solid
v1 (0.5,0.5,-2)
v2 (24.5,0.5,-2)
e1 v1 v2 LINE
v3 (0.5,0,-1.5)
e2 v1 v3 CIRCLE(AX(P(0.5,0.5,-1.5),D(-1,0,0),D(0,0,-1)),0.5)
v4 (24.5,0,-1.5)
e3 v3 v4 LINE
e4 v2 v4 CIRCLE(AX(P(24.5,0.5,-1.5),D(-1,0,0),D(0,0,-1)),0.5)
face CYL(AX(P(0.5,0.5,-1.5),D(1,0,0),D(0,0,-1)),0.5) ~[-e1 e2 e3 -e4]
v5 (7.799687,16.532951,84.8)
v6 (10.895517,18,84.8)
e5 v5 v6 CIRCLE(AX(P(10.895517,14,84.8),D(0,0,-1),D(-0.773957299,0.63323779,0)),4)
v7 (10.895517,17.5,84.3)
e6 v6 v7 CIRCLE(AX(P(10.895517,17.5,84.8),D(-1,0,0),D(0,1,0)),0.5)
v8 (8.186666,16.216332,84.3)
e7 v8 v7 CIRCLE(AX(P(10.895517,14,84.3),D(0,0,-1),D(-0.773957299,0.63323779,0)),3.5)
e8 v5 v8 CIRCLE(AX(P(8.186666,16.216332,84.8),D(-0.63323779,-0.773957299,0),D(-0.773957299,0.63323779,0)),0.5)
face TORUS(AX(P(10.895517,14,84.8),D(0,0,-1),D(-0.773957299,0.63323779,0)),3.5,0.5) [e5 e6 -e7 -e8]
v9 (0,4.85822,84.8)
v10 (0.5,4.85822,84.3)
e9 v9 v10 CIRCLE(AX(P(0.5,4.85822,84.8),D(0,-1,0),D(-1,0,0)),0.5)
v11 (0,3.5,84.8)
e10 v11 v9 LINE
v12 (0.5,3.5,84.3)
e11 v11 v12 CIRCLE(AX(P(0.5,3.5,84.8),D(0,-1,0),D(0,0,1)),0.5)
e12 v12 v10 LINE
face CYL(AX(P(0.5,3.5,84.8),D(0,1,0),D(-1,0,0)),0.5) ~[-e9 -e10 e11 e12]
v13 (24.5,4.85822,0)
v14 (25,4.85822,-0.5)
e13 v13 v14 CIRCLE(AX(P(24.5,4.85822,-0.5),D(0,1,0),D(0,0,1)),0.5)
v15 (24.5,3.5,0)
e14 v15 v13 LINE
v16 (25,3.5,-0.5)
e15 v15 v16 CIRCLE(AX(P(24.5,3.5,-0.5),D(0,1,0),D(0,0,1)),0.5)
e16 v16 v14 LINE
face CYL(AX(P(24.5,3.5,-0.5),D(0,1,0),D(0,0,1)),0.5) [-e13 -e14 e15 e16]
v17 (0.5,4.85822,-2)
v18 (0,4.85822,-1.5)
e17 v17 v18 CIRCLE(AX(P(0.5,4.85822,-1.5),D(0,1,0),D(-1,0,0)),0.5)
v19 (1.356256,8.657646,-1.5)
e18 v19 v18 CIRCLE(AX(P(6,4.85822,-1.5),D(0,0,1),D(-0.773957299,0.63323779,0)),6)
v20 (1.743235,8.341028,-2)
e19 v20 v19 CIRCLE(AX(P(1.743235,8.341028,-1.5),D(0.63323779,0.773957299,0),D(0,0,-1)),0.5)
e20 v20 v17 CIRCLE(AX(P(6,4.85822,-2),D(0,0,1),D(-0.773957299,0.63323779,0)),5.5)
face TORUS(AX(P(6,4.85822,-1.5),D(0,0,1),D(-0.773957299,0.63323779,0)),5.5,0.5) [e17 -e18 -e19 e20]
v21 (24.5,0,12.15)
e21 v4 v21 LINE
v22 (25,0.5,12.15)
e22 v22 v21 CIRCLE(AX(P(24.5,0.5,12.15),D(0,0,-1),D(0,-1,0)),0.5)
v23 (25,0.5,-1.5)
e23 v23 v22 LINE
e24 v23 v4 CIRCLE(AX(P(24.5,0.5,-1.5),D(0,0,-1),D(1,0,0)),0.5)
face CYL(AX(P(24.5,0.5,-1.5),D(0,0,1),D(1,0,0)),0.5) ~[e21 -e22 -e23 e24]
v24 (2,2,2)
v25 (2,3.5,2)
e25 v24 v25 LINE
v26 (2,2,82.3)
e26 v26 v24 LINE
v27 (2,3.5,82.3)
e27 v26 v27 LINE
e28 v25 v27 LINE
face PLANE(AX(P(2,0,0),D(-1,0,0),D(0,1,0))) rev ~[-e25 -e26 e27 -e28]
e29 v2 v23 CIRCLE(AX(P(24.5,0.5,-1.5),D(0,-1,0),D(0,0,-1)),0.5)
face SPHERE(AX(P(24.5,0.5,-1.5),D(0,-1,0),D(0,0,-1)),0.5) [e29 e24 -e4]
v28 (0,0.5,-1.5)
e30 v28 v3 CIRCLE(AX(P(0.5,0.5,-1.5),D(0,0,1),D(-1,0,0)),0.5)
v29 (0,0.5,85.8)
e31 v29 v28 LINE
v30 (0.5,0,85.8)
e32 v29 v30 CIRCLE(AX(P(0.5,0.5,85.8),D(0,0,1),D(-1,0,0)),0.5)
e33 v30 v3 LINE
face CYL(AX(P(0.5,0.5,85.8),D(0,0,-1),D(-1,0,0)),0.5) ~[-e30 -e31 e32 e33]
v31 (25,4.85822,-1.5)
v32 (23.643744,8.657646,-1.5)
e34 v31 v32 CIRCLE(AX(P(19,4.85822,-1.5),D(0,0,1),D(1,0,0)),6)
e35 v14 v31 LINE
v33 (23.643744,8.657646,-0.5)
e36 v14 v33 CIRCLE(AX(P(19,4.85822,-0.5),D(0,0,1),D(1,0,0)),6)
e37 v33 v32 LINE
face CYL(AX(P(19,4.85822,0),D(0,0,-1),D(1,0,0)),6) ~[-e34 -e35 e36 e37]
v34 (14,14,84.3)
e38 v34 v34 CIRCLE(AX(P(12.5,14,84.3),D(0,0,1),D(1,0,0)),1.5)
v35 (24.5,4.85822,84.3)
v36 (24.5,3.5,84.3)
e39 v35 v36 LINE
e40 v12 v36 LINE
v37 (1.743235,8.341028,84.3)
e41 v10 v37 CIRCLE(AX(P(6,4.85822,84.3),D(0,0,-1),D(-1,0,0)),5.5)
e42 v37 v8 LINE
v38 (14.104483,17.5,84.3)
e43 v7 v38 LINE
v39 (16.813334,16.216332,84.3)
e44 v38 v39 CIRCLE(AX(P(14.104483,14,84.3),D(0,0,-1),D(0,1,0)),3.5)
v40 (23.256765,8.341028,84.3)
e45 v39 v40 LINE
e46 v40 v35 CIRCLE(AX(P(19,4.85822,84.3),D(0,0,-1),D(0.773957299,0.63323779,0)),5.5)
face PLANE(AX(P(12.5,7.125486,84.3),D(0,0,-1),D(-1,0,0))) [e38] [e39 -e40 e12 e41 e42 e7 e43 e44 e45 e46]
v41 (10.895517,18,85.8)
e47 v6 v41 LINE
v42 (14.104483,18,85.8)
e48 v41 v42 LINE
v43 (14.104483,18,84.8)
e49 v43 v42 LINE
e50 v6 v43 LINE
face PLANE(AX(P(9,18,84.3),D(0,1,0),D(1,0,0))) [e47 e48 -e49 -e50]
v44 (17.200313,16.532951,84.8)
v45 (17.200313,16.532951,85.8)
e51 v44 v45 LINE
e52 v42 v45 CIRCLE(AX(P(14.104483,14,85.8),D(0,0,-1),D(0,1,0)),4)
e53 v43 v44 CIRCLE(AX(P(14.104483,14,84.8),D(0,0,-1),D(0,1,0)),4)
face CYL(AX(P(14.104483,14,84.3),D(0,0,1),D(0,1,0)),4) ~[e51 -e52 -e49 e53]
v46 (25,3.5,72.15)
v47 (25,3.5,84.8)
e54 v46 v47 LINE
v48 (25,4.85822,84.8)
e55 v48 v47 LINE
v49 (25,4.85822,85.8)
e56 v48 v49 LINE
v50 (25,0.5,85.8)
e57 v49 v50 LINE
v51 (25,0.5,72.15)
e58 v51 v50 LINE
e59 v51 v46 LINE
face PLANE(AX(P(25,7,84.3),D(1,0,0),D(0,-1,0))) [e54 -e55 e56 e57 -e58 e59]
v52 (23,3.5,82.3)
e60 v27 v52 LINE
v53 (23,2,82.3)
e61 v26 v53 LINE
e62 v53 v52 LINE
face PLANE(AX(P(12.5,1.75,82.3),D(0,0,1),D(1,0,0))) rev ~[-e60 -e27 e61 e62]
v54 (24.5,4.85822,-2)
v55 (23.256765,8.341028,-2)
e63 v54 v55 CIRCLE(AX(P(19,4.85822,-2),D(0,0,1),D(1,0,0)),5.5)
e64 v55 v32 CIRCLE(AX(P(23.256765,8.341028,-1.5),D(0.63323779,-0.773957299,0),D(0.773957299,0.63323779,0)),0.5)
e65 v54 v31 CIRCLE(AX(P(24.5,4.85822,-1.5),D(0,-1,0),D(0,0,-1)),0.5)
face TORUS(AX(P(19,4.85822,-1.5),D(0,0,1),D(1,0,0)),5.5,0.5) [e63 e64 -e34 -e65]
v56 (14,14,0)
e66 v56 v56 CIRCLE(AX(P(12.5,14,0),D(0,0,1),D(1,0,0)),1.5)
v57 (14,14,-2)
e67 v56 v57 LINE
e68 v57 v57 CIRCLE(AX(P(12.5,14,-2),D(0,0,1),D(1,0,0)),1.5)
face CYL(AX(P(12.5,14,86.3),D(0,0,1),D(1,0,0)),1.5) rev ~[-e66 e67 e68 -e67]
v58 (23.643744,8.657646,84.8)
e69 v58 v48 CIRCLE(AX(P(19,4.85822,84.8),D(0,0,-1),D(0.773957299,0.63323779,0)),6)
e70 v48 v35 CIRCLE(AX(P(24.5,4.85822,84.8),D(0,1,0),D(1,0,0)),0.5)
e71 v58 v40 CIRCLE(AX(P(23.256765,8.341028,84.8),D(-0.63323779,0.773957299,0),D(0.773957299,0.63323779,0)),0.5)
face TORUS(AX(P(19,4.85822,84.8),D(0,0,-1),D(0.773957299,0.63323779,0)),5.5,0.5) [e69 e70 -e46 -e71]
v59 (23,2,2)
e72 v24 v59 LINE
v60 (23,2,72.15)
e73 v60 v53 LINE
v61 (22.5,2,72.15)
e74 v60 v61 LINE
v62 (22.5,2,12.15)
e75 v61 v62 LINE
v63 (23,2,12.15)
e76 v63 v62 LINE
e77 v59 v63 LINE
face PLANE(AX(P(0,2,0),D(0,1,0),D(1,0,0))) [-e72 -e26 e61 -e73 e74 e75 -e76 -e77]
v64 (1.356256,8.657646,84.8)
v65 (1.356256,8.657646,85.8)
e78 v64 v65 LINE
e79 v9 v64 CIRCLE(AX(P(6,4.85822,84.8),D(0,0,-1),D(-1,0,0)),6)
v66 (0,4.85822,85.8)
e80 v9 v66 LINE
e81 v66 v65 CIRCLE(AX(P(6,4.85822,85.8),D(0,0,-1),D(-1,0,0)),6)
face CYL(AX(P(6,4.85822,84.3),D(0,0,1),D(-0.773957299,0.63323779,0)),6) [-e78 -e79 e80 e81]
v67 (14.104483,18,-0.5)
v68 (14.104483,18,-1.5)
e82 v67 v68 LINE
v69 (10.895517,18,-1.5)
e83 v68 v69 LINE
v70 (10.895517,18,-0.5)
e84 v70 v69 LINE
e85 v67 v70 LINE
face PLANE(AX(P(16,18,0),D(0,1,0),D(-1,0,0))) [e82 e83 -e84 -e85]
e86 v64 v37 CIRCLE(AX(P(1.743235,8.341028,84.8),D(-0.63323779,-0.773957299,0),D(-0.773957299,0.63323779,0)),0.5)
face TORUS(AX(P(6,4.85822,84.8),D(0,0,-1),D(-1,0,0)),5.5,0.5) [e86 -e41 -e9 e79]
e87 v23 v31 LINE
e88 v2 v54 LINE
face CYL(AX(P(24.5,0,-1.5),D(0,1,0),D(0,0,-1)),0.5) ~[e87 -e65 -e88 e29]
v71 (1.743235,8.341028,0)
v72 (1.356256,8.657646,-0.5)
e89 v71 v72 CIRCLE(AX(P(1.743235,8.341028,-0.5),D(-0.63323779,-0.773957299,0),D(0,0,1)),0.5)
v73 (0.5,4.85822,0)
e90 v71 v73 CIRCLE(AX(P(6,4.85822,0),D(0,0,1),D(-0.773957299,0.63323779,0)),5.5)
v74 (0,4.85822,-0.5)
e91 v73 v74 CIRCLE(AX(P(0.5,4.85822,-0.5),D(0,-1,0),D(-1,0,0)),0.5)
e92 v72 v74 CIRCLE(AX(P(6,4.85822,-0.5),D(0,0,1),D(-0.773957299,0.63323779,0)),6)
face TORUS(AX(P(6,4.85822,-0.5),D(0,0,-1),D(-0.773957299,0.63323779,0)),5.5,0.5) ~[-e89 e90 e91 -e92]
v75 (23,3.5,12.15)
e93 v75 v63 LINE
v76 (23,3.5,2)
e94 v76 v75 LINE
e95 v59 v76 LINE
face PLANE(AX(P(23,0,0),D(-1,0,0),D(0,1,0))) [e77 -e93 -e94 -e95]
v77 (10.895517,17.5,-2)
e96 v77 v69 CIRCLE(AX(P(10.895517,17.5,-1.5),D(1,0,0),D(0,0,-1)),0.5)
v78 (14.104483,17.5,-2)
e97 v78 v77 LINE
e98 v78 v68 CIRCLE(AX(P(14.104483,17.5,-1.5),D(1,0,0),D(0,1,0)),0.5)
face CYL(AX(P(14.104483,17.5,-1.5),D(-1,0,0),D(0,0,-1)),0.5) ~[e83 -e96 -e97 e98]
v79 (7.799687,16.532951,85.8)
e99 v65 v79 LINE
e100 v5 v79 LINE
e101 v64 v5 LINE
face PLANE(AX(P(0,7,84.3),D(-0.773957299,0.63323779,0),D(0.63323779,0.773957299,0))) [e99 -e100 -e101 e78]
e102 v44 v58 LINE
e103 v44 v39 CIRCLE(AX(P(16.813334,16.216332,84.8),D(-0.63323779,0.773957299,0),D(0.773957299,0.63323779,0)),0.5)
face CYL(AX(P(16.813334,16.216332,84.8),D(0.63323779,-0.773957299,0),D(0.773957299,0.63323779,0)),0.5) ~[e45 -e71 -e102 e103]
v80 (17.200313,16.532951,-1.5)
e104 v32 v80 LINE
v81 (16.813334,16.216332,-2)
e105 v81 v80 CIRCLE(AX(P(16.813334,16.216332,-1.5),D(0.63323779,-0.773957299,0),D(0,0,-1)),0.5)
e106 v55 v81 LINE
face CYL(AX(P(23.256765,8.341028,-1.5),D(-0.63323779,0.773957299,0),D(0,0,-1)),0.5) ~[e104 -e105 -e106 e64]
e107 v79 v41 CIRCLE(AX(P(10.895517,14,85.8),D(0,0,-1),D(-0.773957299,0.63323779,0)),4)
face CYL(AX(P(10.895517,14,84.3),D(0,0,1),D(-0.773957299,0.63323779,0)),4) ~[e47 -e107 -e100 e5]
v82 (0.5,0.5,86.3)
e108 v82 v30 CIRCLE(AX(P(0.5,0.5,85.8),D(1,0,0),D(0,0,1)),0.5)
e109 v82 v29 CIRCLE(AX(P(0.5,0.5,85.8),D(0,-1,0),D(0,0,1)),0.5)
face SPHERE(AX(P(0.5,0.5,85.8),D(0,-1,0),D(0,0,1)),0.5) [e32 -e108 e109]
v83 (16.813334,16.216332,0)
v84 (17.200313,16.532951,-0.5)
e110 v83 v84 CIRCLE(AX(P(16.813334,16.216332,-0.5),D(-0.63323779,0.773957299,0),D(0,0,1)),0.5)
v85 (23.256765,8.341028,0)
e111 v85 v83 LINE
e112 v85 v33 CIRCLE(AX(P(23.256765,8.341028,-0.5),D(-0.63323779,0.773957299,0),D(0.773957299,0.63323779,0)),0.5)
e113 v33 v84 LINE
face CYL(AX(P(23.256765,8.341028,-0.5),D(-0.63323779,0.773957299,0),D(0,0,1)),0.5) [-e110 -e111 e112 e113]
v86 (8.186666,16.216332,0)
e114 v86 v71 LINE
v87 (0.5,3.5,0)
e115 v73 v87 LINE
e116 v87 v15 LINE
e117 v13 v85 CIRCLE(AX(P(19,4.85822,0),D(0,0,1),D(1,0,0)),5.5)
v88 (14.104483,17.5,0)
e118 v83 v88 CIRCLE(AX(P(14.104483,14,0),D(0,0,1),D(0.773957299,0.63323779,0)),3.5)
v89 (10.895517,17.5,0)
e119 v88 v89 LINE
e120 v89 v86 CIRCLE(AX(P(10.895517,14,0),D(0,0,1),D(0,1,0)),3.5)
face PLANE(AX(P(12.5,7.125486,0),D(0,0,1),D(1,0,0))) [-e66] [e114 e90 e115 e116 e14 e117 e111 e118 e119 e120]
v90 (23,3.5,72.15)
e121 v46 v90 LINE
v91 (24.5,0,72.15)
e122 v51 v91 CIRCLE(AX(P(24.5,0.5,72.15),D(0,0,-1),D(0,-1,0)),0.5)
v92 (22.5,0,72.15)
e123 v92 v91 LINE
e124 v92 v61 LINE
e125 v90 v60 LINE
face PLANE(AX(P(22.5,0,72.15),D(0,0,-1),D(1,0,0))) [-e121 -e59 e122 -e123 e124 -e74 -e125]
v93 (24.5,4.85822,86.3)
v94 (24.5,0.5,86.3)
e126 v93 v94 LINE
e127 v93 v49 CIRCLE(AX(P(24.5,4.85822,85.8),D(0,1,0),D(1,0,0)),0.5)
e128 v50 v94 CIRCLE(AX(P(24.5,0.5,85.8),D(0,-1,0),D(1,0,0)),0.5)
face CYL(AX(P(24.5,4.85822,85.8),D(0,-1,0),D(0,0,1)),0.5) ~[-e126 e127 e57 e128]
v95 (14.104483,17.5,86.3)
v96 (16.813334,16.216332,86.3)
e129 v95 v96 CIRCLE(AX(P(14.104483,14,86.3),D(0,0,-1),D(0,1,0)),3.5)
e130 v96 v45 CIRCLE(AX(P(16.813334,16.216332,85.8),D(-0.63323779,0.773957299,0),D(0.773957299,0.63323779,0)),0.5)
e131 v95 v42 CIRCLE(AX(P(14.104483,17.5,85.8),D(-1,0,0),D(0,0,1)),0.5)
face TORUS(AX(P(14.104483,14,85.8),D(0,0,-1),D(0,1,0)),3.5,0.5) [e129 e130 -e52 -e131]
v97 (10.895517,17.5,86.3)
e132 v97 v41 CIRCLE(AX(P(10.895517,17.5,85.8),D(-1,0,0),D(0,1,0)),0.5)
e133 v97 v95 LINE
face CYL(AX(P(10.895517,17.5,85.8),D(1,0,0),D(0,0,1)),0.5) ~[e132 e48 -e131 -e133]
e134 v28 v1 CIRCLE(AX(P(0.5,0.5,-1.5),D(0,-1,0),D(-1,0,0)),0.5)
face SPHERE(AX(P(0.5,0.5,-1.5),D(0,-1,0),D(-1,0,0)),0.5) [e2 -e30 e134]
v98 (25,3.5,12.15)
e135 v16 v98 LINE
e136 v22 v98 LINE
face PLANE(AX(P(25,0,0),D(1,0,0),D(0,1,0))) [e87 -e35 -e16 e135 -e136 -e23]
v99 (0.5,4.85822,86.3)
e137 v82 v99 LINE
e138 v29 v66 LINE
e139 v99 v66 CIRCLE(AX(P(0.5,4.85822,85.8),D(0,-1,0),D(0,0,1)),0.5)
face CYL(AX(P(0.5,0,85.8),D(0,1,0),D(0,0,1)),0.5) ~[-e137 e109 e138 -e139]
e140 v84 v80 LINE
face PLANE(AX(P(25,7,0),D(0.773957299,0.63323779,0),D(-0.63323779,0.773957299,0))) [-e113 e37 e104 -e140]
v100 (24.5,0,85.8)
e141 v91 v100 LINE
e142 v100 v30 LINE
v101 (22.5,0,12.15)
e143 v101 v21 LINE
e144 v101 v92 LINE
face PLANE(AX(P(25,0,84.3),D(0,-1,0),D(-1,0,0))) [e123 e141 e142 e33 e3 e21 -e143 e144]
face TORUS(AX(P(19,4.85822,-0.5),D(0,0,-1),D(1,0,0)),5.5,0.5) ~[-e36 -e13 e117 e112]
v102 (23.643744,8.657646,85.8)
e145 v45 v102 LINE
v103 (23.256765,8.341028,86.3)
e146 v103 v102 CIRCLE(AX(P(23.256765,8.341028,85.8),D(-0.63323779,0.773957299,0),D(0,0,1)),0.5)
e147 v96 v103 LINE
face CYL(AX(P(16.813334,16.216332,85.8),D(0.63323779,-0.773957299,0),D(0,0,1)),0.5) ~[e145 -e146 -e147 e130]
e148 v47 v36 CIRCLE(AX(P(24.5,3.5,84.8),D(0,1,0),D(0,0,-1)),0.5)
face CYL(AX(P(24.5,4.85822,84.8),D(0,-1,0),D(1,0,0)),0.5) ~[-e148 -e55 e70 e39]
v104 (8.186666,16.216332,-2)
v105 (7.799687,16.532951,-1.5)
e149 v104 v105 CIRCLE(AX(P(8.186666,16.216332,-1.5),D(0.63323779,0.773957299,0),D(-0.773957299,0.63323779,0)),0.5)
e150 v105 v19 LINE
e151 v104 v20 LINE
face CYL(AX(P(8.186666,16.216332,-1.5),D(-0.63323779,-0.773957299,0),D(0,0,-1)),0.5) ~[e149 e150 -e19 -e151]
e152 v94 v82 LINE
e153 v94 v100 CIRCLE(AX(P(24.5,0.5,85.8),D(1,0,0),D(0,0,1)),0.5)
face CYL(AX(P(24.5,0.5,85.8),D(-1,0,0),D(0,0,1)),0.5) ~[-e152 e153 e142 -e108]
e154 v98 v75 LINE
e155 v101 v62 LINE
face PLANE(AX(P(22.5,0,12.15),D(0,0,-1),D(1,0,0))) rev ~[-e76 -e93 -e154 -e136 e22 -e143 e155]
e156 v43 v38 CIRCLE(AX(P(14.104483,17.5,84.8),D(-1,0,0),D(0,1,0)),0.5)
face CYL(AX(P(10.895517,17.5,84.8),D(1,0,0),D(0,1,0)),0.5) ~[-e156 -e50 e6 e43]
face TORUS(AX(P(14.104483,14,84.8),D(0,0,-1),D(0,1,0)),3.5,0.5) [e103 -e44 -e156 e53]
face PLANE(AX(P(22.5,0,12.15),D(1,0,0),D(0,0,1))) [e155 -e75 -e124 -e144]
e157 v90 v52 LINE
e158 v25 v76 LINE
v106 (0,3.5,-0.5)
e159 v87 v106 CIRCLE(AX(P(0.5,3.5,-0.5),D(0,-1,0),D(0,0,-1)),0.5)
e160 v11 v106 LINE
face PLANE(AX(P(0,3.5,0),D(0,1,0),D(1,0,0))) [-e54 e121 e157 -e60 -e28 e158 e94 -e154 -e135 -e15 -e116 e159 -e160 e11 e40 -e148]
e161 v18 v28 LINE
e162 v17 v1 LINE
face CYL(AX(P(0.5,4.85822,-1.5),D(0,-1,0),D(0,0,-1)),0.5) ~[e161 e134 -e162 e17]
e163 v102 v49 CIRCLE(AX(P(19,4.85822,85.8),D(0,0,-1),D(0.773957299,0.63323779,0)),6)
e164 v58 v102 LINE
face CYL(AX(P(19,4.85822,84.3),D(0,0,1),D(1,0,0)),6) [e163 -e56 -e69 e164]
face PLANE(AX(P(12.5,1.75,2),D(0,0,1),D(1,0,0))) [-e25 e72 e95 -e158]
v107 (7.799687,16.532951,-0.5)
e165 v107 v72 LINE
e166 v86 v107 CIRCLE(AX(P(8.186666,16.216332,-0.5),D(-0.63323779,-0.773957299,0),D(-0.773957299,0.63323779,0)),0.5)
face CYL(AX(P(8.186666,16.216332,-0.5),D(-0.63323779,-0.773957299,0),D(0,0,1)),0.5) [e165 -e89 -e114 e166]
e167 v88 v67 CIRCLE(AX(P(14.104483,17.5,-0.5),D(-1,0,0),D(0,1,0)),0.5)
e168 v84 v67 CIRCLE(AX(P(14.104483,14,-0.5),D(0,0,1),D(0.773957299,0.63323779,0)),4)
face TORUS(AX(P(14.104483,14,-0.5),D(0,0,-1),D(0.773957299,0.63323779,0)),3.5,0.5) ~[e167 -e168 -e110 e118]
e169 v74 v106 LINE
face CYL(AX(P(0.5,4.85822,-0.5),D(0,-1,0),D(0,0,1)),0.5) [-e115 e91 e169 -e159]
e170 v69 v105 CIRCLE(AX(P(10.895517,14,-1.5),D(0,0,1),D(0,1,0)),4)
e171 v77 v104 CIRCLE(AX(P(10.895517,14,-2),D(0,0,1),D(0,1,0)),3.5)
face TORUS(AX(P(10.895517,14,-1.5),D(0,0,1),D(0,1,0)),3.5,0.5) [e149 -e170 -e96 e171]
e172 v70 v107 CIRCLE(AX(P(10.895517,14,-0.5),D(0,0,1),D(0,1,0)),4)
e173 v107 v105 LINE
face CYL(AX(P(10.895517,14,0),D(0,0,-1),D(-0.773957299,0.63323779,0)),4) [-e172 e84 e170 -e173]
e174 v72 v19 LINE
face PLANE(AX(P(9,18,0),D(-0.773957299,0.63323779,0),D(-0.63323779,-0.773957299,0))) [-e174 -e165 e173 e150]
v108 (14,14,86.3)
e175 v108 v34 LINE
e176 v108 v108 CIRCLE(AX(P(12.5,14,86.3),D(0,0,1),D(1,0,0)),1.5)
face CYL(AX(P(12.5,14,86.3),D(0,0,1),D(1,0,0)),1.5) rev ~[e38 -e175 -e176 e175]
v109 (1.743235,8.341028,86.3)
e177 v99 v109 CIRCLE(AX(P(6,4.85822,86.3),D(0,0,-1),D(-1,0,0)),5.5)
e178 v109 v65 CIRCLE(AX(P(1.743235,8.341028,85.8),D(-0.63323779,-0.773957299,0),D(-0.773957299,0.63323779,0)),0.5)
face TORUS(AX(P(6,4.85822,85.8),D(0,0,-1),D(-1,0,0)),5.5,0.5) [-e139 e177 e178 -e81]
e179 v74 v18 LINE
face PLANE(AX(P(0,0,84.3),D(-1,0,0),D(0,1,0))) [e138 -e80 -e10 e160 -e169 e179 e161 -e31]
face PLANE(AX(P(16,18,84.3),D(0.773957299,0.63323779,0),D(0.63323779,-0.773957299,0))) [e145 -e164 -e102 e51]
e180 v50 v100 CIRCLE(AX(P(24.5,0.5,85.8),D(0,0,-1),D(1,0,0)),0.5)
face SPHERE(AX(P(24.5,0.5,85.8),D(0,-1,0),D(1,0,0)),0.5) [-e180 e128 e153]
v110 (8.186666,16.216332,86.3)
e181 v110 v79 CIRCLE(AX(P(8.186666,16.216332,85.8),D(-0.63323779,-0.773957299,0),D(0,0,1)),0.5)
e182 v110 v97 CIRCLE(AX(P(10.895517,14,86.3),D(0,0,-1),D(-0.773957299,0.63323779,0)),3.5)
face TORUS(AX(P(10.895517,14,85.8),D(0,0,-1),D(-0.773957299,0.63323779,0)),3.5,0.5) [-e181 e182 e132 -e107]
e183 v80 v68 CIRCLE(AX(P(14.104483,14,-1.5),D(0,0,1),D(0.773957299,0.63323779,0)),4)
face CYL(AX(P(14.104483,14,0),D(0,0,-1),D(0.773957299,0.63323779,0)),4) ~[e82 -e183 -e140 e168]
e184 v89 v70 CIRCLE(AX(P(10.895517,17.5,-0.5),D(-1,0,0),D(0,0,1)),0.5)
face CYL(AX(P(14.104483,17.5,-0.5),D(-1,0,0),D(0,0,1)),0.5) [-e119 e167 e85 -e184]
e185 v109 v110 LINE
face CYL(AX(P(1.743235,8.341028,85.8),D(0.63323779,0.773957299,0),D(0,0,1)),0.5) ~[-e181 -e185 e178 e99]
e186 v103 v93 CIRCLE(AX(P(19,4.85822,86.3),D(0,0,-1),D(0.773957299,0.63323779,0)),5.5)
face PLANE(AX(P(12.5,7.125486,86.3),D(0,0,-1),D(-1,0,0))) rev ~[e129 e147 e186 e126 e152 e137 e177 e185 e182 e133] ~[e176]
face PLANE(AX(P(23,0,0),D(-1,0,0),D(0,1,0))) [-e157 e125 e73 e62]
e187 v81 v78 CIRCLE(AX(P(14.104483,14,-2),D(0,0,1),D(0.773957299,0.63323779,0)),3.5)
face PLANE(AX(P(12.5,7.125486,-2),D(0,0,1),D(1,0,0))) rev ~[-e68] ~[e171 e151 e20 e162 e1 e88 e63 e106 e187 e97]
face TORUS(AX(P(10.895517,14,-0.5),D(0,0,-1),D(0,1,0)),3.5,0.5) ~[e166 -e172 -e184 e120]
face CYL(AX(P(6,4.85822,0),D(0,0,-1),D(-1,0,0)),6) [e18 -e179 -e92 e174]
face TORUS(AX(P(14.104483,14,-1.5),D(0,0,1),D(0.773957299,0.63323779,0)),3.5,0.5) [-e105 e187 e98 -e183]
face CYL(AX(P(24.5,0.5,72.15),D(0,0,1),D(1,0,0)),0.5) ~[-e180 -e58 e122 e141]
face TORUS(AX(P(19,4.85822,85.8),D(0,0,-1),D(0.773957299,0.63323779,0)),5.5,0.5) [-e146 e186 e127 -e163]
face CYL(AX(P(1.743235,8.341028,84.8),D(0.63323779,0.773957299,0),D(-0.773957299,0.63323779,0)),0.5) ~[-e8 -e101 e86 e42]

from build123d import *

# Parameters (mm, degrees)
SKETCH_1_W          = 25
SKETCH_1_H          = 3.5
EXTRUDE_1_DEPTH     = 84.3
SHELL_1_T           = -2
SKETCH_2_W          = 2.5
SKETCH_2_H          = 60
CUT_EXTRUDE_1_DEPTH = 88.998522715
EXTRUDE_2_DEPTH     = 2
EXTRUDE_3_DEPTH     = 2
SKETCH_5_R          = 1.5
CUT_EXTRUDE_2_DEPTH = 94.519463215
FILLET_1_R          = 4
FILLET_2_R          = 6
FILLET_3_R          = 0.5
FILLET_4_R          = 0.5


with BuildPart() as part:
    # 草图1 → 凸台-拉伸1 (new body)
    with BuildSketch(Plane.XY):
        with Locations((12.5, 1.75)):
            Rectangle(SKETCH_1_W, SKETCH_1_H)
    extrude(amount=EXTRUDE_1_DEPTH)

    # 抽壳1
    shell_1_openings = [part.faces().sort_by_distance(p)[0] for p in [
        (12.5, 3.5, 42.15),
    ]]
    offset(amount=SHELL_1_T, openings=shell_1_openings, kind=Kind.INTERSECTION)

    # 草图2 → 切除-拉伸1 (cut, through all)
    with BuildSketch(Plane.XZ):
        with Locations((23.75, 42.15)):
            Rectangle(SKETCH_2_W, SKETCH_2_H)
    extrude(amount=-CUT_EXTRUDE_1_DEPTH, mode=Mode.SUBTRACT)

    # 草图3 → 凸台-拉伸2 (add)
    with BuildSketch(Plane(origin=(0, 0, 0), x_dir=(-1, 0, 0), z_dir=(0, 0, -1))):
        Polygon((-25, 7), (-16, 18), (-9, 18), (0, 7), (0, 0), (-25, 0), align=None)
    extrude(amount=EXTRUDE_2_DEPTH)

    # 草图4 → 凸台-拉伸3 (add)
    with BuildSketch(Plane.XY.offset(84.3)):
        Polygon((0, 0), (0, 7), (9, 18), (16, 18), (25, 7), (25, 0), align=None)
    extrude(amount=EXTRUDE_3_DEPTH)

    # 草图5 → 切除-拉伸2 (cut, through all)
    with BuildSketch(Plane.XY.offset(86.3)):
        with Locations((12.5, 14)):
            Circle(SKETCH_5_R)
    extrude(amount=-CUT_EXTRUDE_2_DEPTH, mode=Mode.SUBTRACT)

    # 圆角1
    fillet_1_edges = [part.edges().sort_by_distance(p)[0] for p in [
        (9, 18, -1),
        (16, 18, -1),
        (16, 18, 85.3),
        (9, 18, 85.3),
    ]]
    fillet(fillet_1_edges, radius=FILLET_1_R)

    # 圆角2
    fillet_2_edges = [part.edges().sort_by_distance(p)[0] for p in [
        (25, 7, -1),
        (0, 7, -1),
        (25, 7, 85.3),
        (0, 7, 85.3),
    ]]
    fillet(fillet_2_edges, radius=FILLET_2_R)

    # 圆角3
    fillet_3_edges = [part.edges().sort_by_distance(p)[0] for p in [
        (4.577971759, 12.595298817, 86.3),
        (9.182595707, 17.61467873, 86.3),
        (15.817404293, 17.61467873, 86.3),
        (0, 2.429109865, 86.3),
        (0, 4.179109865, 84.3),
        (20.422028241, 12.595298817, 84.3),
        (24.650772636, 6.87533862, 84.3),
        (0.349227364, 6.87533862, 84.3),
        (20.422028241, 12.595298817, 86.3),
        (24.650772636, 6.87533862, 86.3),
        (0.349227364, 6.87533862, 86.3),
        (25, 2.429109865, -2),
        (25, 4.179109865, 0),
        (4.577971759, 12.595298817, 0),
        (0.349227364, 6.87533862, 0),
        (24.650772636, 6.87533862, 0),
        (4.577971759, 12.595298817, -2),
        (0.349227364, 6.87533862, -2),
        (24.650772636, 6.87533862, -2),
        (0, 4.179109865, 0),
        (0, 2.429109865, -2),
        (25, 4.179109865, 84.3),
        (25, 2.429109865, 86.3),
        (20.422028241, 12.595298817, 0),
        (20.422028241, 12.595298817, -2),
        (12.5, 18, 0),
        (9.182595707, 17.61467873, 0),
        (15.817404293, 17.61467873, 0),
        (12.5, 18, -2),
        (9.182595707, 17.61467873, -2),
        (15.817404293, 17.61467873, -2),
        (12.5, 18, 84.3),
        (12.5, 18, 86.3),
        (4.577971759, 12.595298817, 84.3),
        (9.182595707, 17.61467873, 84.3),
        (15.817404293, 17.61467873, 84.3),
    ]]
    fillet(fillet_3_edges, radius=FILLET_3_R)

    # 圆角4
    fillet_4_edges = [part.edges().sort_by_distance(p)[0] for p in [
        (25, 0, 78.975),
        (24.853553391, 0, -1.853553391),
        (12.5, 0, -2),
        (0.146446609, 0, -1.853553391),
        (0, 0, 42.15),
        (0.146446609, 0, 86.153553391),
        (24.853553391, 0, 86.153553391),
        (12.5, 0, 86.3),
    ]]
    fillet(fillet_4_edges, radius=FILLET_4_R)


solid = part.part
